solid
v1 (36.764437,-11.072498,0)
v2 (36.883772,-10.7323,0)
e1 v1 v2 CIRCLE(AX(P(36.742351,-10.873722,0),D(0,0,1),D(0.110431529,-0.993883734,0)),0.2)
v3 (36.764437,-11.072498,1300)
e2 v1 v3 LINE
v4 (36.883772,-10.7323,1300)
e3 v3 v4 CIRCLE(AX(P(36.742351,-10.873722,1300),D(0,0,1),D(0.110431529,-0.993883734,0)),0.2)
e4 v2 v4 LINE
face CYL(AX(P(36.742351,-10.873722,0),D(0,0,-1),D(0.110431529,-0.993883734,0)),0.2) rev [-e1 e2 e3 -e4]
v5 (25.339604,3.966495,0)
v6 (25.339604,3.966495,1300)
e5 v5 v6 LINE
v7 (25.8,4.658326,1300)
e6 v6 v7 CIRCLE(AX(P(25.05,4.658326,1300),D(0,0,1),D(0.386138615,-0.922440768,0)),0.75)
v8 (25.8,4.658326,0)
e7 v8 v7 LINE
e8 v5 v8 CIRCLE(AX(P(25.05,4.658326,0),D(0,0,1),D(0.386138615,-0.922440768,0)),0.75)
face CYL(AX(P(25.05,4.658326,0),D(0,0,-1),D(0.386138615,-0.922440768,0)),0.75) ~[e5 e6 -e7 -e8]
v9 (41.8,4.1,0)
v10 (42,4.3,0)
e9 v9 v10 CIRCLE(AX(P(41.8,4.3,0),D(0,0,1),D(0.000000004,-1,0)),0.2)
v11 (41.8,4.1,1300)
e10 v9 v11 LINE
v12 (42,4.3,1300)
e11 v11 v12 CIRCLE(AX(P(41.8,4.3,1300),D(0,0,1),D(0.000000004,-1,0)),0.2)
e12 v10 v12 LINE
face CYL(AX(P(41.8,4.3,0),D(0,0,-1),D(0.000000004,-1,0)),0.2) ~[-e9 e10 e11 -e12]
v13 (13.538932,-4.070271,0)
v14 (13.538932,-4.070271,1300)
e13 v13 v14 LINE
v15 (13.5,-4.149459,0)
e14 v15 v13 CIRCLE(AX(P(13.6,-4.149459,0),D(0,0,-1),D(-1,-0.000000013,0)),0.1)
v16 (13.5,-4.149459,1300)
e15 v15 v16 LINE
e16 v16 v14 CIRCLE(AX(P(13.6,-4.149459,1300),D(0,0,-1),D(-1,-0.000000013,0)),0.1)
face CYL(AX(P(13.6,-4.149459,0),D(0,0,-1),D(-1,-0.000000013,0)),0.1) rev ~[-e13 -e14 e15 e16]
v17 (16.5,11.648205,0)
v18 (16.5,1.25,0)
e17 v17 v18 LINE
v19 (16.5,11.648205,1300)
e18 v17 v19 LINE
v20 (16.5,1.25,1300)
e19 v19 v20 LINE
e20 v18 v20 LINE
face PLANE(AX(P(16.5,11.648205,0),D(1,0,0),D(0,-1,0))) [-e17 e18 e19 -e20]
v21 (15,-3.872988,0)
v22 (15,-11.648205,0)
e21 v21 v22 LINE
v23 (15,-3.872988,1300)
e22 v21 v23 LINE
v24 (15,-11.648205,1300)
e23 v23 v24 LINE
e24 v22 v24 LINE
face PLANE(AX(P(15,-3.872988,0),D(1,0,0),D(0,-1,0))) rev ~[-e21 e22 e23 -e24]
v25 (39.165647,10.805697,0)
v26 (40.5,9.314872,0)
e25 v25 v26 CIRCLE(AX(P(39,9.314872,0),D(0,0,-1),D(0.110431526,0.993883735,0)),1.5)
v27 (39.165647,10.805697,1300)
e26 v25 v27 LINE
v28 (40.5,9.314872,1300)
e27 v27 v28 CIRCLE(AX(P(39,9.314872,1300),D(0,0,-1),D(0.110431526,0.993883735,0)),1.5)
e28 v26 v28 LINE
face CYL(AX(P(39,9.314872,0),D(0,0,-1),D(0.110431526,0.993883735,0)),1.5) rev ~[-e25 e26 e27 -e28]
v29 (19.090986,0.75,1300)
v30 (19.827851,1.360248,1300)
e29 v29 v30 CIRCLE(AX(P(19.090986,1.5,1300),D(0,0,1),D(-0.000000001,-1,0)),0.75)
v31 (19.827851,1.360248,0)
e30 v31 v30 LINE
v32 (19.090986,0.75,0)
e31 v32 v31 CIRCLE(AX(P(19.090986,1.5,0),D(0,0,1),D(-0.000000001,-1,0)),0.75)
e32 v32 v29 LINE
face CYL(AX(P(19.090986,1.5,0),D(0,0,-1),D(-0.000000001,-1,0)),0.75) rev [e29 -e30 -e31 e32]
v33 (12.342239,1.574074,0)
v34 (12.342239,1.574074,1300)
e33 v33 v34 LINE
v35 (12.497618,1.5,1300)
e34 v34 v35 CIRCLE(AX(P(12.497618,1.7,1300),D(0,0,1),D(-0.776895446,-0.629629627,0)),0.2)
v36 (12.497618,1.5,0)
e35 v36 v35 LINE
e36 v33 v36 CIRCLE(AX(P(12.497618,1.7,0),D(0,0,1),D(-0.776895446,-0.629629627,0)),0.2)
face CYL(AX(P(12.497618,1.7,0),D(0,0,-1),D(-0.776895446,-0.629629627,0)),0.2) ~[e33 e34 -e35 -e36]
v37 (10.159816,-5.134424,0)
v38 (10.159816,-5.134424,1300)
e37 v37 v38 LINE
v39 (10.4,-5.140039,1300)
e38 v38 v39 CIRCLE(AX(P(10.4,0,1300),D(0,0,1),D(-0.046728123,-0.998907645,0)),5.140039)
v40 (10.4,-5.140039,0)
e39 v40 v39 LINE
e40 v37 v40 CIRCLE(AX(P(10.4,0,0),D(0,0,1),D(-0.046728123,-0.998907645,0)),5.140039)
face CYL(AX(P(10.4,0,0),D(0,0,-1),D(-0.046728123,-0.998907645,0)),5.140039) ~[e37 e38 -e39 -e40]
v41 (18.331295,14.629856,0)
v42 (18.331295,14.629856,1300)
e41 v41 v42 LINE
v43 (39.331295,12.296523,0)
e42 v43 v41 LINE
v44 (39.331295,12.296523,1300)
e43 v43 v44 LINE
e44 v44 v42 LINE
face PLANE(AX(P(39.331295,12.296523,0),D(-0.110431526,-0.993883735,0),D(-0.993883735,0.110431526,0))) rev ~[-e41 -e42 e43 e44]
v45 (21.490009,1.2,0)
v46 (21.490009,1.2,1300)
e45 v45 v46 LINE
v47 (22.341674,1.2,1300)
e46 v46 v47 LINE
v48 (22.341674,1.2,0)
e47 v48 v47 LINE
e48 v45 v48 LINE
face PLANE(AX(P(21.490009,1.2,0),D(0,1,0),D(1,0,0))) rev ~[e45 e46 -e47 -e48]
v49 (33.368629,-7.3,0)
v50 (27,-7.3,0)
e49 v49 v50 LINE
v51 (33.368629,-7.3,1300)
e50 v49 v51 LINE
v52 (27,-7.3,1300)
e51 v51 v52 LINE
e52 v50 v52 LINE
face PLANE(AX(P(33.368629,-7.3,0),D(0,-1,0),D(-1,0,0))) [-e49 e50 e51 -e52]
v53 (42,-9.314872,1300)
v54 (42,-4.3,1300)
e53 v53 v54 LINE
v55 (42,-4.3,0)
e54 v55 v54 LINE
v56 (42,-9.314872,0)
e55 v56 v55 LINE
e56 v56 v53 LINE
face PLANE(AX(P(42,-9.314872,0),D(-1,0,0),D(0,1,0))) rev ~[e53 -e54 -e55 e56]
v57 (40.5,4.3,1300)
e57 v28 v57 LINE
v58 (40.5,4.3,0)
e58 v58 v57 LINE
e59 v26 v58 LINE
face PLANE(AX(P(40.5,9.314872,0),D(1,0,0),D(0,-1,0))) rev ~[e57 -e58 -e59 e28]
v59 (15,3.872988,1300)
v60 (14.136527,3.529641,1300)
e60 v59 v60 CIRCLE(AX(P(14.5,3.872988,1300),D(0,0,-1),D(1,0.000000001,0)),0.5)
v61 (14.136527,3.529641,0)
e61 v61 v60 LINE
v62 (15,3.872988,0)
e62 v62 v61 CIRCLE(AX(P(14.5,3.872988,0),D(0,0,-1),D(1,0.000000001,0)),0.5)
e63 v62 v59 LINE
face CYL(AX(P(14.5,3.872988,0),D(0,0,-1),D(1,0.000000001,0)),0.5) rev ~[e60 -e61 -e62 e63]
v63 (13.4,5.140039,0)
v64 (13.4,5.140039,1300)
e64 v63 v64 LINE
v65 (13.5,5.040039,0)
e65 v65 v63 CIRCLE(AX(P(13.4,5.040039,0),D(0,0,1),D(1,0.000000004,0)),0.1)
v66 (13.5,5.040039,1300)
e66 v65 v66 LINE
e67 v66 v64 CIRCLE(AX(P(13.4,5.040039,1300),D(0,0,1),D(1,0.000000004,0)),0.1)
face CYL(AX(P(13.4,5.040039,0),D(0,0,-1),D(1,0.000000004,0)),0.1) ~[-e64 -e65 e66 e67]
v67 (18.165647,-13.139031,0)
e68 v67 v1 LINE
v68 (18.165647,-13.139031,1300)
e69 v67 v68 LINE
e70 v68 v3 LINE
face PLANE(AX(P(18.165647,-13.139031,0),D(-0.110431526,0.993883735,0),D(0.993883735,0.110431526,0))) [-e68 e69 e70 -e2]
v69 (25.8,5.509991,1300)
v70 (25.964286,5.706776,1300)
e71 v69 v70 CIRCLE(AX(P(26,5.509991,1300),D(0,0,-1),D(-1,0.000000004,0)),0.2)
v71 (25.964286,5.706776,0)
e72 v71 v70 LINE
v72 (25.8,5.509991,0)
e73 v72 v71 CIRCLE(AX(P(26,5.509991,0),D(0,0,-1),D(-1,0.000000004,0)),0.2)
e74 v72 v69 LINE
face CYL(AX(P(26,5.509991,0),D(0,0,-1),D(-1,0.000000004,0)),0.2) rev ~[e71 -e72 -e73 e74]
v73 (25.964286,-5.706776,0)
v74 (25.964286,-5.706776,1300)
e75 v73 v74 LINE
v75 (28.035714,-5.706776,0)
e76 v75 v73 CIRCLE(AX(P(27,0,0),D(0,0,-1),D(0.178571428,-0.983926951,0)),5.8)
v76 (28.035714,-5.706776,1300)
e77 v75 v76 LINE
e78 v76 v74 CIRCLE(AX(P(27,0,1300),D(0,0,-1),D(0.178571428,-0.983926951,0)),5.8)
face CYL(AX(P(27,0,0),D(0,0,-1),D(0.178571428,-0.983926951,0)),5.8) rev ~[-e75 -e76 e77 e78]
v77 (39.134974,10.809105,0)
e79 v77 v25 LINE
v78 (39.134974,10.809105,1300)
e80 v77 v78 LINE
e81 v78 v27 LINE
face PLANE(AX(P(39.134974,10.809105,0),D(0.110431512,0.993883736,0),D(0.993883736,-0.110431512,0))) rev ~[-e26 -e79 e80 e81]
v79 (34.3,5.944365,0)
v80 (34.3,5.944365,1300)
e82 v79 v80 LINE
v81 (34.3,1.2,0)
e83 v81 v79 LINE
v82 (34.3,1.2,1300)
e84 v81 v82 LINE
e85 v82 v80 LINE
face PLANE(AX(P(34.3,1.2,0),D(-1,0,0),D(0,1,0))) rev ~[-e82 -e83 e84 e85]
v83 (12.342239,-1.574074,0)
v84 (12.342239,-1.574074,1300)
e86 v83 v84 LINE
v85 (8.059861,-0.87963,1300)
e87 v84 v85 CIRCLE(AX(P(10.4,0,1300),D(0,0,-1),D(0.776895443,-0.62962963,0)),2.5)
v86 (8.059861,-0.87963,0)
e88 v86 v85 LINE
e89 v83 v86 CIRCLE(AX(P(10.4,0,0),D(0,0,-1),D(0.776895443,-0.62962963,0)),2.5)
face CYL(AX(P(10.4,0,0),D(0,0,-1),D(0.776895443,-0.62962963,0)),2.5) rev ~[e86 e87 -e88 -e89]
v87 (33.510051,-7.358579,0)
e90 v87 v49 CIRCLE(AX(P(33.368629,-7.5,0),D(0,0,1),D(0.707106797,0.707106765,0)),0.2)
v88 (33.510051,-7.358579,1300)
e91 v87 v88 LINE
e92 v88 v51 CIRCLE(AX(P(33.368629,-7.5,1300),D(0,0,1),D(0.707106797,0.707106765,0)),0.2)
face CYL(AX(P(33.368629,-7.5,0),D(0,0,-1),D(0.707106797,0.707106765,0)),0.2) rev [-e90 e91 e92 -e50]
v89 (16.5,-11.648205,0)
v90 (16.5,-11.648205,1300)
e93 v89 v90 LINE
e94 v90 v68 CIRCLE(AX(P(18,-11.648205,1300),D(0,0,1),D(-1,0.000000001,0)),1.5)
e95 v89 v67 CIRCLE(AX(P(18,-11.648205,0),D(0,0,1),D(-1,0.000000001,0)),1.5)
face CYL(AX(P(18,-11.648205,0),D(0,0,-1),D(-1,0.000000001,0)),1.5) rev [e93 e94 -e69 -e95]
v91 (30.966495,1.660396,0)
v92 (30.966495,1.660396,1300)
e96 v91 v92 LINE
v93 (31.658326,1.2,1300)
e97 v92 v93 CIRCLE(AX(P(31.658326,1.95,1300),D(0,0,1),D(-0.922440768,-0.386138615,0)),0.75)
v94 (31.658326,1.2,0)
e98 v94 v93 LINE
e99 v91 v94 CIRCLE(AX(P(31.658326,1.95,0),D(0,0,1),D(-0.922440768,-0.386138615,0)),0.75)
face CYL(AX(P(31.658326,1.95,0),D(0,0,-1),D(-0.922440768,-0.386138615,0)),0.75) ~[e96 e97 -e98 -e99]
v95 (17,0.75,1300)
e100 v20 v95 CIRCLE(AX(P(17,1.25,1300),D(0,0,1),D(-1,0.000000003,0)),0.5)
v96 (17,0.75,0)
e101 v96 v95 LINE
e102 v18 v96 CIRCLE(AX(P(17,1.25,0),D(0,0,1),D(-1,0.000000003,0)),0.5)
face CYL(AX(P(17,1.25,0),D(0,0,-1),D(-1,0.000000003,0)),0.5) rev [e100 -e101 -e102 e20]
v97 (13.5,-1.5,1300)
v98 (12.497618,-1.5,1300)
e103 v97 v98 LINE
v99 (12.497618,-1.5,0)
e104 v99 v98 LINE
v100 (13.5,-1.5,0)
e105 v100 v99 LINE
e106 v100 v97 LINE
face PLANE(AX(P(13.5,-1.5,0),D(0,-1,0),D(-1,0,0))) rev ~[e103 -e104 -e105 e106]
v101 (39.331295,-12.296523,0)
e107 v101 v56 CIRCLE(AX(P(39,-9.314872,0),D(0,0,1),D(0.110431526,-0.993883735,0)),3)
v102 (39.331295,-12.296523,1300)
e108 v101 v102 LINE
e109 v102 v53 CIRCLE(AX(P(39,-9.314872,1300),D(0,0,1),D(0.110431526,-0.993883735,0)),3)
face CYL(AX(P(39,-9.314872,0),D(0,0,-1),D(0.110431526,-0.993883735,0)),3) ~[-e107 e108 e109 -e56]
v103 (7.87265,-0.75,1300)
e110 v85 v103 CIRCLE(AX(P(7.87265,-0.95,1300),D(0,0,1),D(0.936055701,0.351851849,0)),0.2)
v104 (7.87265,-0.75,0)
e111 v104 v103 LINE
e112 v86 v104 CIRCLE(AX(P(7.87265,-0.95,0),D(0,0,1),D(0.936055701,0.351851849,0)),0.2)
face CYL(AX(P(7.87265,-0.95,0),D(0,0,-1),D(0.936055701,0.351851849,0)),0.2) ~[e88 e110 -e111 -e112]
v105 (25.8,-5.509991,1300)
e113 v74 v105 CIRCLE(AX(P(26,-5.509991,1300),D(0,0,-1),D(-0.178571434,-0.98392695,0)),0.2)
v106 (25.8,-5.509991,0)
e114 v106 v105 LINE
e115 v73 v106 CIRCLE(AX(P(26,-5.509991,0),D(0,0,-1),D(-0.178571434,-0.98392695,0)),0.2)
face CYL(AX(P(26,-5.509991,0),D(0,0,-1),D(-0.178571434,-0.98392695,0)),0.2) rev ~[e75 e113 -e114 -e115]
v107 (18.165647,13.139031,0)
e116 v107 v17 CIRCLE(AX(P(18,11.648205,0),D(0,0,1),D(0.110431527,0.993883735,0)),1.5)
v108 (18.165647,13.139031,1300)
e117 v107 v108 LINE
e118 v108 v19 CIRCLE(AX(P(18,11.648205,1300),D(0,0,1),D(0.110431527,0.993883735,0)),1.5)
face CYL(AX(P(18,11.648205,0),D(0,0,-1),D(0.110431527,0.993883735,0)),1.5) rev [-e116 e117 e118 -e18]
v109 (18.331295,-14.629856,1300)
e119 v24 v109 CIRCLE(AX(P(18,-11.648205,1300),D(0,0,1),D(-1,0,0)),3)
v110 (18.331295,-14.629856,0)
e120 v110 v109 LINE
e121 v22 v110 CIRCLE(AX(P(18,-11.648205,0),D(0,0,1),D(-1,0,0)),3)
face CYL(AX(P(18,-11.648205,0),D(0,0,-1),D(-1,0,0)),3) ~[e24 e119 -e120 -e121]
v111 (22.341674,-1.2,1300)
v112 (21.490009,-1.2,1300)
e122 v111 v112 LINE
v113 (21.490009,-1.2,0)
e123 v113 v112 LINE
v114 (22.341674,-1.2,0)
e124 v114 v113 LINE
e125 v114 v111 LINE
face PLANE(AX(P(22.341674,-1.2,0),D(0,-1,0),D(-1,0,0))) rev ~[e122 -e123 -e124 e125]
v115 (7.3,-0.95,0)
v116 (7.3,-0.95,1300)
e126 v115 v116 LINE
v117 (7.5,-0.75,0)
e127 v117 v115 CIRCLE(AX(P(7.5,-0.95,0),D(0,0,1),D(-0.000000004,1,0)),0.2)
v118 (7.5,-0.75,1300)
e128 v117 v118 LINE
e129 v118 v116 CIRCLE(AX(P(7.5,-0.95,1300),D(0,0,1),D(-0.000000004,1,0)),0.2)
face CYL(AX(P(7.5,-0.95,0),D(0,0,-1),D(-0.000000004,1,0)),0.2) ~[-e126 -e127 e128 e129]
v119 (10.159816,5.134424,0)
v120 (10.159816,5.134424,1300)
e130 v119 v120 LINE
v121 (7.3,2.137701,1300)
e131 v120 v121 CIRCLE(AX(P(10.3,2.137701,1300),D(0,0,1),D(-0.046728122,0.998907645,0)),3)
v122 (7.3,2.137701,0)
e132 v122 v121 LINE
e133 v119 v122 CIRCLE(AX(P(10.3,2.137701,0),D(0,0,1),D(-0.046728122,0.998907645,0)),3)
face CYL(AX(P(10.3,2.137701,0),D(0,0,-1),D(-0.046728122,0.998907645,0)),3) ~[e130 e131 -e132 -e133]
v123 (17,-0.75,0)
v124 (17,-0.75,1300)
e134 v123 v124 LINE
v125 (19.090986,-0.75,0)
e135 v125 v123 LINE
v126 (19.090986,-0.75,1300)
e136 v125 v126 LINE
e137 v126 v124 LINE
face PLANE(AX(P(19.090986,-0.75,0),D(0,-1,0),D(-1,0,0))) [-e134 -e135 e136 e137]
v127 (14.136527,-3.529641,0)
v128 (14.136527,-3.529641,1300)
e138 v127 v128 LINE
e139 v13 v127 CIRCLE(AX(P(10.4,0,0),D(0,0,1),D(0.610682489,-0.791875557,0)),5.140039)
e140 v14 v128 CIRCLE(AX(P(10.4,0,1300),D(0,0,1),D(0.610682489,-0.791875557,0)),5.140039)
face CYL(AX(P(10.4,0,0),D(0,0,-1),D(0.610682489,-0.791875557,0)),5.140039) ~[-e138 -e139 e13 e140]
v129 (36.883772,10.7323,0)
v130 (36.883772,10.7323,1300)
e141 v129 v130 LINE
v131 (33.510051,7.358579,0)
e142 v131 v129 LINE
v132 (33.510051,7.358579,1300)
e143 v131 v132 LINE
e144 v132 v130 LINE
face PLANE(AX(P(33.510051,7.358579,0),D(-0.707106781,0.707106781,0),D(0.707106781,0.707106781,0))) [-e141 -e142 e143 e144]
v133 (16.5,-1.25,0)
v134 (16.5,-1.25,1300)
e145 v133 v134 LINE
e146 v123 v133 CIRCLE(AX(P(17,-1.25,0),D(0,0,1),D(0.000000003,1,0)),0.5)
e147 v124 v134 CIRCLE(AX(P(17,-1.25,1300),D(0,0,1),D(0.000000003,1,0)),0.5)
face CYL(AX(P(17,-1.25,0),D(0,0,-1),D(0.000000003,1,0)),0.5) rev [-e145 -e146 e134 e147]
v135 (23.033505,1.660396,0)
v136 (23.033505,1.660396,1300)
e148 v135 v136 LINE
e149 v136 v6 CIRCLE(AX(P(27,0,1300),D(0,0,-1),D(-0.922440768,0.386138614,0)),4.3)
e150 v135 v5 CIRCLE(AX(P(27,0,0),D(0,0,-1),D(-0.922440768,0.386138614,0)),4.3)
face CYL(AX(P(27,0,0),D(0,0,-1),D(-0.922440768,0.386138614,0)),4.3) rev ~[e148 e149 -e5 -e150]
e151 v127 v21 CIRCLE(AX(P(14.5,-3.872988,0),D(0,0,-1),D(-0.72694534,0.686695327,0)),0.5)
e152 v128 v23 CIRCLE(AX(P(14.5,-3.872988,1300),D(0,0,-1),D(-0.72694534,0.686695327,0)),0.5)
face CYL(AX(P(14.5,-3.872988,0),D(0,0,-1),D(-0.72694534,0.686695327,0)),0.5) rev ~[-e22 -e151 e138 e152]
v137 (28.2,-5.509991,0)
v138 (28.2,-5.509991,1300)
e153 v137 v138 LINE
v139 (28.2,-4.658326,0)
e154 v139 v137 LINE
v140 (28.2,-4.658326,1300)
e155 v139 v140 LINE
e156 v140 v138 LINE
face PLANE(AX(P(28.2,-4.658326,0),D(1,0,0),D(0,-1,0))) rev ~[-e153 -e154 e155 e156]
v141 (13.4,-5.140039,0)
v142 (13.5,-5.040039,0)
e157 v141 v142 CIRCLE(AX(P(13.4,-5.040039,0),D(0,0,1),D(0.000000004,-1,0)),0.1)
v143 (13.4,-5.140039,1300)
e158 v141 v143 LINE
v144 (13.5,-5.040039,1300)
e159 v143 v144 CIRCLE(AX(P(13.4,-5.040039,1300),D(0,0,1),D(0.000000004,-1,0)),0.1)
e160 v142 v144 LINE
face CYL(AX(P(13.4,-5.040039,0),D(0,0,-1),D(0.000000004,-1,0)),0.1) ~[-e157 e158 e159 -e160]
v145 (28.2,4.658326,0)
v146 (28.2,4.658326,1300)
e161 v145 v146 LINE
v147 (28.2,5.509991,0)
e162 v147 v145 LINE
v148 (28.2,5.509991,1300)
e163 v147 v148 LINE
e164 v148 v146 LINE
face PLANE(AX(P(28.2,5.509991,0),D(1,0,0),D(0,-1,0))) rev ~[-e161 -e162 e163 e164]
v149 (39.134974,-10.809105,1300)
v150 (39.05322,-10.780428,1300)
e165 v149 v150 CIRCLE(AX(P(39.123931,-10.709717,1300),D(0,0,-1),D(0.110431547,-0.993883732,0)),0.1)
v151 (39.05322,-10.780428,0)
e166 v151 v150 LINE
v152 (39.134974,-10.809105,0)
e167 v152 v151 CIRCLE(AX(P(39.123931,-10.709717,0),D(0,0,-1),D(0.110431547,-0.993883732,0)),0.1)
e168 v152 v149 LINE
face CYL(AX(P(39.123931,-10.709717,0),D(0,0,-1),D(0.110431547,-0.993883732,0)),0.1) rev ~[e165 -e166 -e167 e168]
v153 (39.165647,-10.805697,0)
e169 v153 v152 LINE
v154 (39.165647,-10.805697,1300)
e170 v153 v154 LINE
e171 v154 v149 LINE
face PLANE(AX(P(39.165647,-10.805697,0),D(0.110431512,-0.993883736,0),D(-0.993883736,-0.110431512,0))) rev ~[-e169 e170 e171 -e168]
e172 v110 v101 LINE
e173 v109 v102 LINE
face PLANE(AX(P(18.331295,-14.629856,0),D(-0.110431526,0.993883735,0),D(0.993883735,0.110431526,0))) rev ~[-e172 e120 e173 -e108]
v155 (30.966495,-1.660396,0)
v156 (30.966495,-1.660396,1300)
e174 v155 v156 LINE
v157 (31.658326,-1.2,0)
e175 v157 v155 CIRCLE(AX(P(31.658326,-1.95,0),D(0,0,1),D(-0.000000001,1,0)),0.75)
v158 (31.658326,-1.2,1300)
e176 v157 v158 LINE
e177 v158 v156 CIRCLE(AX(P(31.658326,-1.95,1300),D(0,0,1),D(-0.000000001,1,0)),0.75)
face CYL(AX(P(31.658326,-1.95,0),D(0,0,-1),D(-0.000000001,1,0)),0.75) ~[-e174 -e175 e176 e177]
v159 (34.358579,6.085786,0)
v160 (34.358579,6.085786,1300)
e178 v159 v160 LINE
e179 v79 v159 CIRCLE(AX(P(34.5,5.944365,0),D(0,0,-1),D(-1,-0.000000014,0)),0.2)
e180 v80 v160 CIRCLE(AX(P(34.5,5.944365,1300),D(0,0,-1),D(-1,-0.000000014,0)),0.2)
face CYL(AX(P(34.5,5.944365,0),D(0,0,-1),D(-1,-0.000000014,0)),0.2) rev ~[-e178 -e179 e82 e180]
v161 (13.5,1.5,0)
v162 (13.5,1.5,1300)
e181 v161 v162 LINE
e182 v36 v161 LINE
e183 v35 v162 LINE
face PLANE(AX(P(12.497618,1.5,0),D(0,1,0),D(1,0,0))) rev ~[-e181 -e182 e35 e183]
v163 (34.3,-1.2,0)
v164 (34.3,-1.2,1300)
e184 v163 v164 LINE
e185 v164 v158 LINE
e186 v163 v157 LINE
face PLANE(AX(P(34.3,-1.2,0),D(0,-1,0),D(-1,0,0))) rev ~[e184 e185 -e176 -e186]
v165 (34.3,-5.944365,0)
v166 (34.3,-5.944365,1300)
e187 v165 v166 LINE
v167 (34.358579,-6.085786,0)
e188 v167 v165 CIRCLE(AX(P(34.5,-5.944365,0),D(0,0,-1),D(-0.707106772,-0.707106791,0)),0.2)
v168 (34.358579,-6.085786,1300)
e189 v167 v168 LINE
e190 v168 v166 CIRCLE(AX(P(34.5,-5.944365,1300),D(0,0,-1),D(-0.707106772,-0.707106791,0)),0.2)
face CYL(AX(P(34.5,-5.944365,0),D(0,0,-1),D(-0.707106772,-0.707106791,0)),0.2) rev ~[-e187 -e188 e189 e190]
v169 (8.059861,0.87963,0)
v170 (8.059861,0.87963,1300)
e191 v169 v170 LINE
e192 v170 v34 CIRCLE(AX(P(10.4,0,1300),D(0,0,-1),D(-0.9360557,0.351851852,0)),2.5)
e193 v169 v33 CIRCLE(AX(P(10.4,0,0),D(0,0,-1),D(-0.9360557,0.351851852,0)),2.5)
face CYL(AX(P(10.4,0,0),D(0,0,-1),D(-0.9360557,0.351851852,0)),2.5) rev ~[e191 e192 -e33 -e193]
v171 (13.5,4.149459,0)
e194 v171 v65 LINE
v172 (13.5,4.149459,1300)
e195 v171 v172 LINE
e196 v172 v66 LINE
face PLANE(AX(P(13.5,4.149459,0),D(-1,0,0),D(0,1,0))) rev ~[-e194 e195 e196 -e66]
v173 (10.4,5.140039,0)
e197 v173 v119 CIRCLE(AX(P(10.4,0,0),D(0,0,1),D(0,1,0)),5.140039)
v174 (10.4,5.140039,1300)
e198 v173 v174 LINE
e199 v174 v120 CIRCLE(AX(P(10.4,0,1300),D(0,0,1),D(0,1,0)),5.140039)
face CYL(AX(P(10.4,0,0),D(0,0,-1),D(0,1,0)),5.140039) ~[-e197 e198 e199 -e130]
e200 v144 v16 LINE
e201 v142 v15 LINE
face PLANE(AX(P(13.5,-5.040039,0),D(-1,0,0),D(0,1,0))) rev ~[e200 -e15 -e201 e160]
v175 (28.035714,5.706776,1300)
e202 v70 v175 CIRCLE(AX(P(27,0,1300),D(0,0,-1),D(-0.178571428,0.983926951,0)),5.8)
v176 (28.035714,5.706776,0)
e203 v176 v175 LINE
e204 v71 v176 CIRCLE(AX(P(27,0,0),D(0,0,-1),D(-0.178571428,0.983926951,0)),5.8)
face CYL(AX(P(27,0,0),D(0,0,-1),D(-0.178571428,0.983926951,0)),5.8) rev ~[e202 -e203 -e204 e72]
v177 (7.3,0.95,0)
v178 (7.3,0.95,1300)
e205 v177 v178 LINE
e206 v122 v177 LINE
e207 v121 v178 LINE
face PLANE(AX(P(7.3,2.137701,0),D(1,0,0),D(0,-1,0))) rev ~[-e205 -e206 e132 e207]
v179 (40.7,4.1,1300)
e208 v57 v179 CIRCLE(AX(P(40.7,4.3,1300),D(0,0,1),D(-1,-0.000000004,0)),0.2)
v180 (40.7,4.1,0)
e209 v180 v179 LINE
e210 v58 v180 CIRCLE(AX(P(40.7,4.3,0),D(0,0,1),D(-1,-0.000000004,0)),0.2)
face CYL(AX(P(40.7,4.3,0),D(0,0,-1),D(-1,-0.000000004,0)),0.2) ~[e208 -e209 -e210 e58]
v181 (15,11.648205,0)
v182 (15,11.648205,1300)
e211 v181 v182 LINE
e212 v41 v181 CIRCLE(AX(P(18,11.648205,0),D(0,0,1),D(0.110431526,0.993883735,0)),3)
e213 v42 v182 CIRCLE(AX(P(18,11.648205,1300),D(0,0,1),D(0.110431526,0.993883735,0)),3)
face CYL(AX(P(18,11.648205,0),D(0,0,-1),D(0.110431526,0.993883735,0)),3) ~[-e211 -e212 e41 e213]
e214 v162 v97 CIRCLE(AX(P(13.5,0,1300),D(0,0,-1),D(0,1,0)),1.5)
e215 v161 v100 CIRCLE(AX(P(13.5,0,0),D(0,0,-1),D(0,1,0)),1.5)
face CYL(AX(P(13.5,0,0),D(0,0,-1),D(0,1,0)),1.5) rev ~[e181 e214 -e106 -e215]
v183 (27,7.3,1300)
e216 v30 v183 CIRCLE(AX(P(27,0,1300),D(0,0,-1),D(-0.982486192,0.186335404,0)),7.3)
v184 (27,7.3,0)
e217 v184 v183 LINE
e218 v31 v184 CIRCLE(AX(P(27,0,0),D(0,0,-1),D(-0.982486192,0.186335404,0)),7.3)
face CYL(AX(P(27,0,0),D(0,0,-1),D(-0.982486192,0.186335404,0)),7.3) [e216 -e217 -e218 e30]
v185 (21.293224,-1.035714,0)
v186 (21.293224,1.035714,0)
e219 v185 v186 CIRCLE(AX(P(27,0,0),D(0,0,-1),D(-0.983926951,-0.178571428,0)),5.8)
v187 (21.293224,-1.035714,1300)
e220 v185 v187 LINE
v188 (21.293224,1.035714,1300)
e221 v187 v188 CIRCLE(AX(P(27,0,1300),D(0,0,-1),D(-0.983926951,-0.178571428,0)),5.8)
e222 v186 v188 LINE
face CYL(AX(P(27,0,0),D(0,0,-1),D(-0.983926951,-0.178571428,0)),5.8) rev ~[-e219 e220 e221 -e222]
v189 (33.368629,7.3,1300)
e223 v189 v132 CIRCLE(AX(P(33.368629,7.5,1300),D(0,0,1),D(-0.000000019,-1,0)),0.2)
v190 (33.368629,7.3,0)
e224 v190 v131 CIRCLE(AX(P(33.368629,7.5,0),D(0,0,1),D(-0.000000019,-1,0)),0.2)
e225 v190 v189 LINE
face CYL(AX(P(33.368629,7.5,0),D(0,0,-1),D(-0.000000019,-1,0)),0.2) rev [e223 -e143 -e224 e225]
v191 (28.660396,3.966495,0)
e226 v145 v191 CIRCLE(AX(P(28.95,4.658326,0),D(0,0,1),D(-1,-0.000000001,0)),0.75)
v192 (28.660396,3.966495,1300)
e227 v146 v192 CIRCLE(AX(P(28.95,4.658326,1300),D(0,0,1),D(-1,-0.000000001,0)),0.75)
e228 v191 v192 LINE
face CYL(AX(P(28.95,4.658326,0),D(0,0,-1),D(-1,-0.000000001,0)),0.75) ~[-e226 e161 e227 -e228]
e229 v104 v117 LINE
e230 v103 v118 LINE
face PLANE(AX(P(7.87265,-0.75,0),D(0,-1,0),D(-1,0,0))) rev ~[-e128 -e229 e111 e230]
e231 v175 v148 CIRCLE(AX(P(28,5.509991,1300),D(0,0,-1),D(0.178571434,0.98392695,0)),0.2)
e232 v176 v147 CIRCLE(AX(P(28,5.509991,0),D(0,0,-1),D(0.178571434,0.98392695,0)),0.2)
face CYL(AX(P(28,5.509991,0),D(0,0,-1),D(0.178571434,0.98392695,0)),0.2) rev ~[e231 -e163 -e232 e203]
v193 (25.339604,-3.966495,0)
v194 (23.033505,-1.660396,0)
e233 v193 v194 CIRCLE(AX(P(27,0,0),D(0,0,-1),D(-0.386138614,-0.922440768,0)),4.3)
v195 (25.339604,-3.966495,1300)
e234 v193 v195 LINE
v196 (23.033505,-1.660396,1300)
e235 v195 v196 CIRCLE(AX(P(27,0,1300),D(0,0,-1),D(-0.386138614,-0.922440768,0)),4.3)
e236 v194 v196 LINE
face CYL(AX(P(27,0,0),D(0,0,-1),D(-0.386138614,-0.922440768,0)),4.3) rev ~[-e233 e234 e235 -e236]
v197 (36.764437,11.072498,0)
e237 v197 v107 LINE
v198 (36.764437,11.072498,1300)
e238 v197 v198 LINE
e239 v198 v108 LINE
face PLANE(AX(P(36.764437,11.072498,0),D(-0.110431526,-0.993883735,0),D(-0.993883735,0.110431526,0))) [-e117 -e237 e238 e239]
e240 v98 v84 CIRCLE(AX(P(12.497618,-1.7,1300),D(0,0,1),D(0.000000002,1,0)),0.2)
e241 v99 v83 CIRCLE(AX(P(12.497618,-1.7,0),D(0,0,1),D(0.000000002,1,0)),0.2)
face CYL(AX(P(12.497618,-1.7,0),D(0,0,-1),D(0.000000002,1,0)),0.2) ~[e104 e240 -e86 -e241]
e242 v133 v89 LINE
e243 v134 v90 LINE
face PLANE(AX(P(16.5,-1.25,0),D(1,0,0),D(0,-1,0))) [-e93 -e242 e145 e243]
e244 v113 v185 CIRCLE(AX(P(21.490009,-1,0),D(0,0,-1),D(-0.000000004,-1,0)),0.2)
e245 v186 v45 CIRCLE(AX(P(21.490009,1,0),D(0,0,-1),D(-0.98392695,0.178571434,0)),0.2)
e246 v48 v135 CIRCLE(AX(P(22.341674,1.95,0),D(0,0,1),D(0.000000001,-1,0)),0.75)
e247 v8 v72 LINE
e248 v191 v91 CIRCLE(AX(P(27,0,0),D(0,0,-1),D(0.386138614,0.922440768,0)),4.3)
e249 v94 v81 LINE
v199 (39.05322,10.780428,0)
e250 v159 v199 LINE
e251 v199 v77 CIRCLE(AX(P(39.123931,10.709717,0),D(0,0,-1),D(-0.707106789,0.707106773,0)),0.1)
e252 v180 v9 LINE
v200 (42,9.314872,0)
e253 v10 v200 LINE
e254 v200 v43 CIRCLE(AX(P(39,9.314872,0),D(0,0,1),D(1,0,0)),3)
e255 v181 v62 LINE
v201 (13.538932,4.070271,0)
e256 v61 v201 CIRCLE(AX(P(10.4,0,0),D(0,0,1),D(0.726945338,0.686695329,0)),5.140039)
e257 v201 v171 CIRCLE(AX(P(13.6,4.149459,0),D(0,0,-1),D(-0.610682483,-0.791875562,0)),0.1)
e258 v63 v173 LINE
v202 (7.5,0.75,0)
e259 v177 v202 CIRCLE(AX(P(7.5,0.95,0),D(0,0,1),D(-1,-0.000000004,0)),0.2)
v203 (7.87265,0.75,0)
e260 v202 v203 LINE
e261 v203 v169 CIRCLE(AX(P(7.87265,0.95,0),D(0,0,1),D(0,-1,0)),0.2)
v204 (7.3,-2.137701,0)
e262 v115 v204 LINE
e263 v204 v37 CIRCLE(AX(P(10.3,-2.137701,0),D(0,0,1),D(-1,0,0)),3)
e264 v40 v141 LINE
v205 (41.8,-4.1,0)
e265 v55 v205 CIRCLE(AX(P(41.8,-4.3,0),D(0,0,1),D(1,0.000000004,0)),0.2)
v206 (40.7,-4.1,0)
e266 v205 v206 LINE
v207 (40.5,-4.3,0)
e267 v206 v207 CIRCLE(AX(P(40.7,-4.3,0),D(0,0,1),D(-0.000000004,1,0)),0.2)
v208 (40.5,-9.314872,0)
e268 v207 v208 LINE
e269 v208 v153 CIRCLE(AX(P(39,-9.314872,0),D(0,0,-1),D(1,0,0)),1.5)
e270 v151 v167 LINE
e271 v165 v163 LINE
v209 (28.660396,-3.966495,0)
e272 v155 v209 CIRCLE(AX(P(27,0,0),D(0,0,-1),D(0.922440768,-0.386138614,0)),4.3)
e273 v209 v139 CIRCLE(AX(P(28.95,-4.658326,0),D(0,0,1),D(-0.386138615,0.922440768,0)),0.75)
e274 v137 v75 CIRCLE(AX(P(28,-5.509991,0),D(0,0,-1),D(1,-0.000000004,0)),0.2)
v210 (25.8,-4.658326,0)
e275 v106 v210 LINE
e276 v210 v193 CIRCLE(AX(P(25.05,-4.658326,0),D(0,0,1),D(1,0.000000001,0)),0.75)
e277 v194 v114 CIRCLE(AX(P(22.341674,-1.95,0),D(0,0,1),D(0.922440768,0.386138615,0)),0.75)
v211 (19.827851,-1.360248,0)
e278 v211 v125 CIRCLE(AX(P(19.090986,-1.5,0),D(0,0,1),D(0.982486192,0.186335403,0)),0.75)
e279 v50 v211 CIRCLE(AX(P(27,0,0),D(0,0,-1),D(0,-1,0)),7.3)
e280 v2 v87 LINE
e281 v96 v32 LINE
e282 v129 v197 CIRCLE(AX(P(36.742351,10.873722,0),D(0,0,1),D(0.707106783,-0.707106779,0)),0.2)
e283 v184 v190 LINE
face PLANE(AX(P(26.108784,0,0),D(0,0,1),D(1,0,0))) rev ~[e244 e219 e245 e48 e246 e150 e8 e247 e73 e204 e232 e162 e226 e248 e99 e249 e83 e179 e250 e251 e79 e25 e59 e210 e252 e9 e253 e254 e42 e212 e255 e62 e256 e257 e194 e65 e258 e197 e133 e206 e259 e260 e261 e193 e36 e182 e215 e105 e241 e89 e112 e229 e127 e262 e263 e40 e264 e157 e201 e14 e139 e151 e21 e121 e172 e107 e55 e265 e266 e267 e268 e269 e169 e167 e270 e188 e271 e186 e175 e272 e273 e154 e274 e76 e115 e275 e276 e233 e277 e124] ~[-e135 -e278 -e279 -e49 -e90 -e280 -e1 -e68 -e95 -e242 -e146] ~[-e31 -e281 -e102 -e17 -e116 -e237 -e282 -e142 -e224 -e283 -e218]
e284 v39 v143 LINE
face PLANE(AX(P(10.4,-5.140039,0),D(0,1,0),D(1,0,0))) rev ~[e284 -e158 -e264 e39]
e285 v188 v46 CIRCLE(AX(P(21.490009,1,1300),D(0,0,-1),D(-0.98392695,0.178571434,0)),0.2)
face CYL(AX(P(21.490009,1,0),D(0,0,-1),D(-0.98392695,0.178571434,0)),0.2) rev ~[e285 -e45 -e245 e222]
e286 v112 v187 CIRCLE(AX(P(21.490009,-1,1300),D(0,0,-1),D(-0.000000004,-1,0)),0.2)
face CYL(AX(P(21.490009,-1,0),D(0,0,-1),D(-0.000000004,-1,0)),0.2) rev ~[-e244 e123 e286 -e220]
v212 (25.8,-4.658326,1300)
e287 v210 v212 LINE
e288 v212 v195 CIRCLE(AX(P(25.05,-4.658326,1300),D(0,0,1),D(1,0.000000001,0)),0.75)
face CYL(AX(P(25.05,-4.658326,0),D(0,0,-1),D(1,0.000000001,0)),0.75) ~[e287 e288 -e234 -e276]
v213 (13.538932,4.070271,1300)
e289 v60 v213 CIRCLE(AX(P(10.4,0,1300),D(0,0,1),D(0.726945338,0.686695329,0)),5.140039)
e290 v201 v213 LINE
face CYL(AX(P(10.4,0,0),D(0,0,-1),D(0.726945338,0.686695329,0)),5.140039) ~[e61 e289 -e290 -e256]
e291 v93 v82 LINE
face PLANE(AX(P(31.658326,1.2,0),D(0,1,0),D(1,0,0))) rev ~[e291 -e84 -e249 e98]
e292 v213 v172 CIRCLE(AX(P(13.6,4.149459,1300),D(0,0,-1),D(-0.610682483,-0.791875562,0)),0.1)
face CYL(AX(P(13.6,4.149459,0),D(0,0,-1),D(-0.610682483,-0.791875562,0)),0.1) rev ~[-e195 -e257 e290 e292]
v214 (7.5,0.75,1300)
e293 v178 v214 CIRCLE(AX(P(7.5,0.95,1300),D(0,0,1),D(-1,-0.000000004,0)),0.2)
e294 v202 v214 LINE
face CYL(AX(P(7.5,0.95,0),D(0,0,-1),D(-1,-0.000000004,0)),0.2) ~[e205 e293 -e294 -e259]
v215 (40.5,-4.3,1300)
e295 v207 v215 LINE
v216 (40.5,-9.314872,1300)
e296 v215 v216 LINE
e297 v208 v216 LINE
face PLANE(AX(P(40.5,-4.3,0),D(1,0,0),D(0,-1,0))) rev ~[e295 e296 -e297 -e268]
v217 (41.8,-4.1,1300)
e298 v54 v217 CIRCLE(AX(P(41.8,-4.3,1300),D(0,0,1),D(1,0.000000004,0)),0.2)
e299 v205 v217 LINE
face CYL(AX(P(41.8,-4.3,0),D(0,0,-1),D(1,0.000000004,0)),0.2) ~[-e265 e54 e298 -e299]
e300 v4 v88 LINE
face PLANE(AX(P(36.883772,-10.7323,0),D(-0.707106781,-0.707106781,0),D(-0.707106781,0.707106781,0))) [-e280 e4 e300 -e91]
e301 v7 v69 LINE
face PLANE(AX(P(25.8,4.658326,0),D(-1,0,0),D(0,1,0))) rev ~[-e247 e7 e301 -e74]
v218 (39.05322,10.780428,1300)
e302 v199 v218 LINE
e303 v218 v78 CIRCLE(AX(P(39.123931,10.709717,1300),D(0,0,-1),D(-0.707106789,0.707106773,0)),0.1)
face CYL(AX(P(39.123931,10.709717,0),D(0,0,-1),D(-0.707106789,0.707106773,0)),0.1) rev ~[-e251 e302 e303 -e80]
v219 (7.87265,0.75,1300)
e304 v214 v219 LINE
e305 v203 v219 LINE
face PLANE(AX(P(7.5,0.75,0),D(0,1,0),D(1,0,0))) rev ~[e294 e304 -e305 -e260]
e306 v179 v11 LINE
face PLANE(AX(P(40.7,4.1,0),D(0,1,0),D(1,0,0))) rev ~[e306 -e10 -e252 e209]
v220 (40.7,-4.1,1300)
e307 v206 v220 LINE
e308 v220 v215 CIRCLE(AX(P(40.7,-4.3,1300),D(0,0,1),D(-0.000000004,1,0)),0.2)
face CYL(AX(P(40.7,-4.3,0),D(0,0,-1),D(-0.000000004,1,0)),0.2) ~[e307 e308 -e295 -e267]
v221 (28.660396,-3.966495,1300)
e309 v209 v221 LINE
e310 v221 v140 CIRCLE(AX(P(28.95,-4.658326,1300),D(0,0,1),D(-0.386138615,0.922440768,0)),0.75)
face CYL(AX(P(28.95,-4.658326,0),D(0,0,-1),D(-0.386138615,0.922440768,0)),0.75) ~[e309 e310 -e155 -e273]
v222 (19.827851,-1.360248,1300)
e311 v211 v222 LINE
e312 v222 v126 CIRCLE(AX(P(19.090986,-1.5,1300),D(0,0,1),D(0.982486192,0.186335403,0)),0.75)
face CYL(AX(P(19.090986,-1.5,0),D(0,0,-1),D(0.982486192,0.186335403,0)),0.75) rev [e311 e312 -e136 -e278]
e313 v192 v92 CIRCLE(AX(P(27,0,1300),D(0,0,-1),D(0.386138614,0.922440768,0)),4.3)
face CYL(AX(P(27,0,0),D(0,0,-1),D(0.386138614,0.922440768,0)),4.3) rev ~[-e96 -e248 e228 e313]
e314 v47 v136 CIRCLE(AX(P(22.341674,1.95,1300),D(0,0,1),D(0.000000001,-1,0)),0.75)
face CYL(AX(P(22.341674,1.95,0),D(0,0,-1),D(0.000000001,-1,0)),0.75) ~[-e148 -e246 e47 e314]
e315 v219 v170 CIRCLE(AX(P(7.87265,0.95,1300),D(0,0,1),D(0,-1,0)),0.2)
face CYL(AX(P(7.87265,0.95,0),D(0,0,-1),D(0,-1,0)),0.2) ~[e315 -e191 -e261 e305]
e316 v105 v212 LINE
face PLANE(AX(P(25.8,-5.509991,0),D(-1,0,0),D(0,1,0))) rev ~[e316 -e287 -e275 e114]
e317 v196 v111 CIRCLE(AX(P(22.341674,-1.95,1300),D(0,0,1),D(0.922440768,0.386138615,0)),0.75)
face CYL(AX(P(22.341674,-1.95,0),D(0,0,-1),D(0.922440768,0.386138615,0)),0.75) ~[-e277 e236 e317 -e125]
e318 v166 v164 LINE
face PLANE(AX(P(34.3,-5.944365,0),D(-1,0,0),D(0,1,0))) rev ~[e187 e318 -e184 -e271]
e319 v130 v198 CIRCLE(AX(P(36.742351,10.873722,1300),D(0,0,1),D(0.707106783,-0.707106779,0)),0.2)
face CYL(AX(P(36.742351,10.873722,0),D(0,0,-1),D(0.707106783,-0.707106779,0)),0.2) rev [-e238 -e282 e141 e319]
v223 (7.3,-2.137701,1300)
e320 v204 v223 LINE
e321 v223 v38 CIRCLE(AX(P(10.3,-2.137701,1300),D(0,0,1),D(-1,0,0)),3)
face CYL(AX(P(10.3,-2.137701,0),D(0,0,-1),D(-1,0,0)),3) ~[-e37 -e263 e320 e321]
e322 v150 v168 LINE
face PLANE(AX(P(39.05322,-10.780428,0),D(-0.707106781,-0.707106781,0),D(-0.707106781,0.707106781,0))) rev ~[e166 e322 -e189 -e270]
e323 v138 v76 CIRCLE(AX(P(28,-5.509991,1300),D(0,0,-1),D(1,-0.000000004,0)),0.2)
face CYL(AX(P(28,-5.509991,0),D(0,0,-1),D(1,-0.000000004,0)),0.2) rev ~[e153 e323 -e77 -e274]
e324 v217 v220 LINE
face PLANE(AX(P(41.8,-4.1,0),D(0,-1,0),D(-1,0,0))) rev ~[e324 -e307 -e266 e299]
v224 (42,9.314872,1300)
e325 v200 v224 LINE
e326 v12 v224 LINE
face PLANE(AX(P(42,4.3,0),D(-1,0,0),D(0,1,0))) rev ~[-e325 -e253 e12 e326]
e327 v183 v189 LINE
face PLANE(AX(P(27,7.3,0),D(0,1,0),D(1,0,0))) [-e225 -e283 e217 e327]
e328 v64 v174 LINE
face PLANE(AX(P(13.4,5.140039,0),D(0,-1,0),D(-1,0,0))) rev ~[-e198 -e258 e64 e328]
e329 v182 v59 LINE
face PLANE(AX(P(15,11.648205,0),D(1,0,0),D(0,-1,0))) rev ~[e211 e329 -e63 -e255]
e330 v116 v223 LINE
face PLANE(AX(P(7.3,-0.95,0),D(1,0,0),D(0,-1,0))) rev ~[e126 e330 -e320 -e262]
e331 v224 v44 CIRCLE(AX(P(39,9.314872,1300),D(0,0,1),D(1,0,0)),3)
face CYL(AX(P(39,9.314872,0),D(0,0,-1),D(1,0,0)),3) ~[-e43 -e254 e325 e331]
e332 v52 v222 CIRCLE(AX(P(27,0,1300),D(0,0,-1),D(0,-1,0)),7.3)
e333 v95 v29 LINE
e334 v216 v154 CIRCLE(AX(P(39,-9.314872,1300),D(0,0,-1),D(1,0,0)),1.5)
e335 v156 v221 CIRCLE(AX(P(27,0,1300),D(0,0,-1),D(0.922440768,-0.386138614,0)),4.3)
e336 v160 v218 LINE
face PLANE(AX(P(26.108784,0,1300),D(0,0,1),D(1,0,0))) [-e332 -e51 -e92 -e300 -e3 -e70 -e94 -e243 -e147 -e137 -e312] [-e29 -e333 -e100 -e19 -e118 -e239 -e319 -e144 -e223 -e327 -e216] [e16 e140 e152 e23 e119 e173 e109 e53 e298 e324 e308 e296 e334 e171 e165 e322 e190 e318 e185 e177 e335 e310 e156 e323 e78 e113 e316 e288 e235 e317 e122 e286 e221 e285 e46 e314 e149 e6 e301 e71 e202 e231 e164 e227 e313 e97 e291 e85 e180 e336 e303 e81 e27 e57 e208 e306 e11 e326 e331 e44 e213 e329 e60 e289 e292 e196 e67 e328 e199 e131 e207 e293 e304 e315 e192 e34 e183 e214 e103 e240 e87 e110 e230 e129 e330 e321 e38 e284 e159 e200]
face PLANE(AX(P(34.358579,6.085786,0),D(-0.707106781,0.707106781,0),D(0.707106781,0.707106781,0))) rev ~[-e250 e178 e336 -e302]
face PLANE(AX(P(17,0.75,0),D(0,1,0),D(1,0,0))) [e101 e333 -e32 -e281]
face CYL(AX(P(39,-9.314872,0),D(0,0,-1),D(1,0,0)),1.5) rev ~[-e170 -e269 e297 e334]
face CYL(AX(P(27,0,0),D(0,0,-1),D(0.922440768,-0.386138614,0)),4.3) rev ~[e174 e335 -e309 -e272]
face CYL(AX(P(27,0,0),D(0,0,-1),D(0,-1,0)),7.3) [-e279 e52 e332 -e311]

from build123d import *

# Parameters (mm, degrees)
EXTRUDE1_DEPTH = 1300


with BuildPart() as part:
    # Sketch1 → Extrude1 (new body)
    with BuildSketch(Plane.XY):
        with BuildLine():
            Line((21.490009074, 1.2), (22.34167412, 1.2))
            ThreePointArc((22.34167412, 1.2), (22.757184066, 1.325619119), (23.033504697, 1.66039604))
            ThreePointArc((23.033504697, 1.66039604), (23.959440841, 3.040559159), (25.33960396, 3.966495303))
            ThreePointArc((25.33960396, 3.966495303), (25.674380881, 4.242815934), (25.8, 4.65832588))
            Line((25.8, 4.65832588), (25.8, 5.509990926))
            ThreePointArc((25.8, 5.509990926), (25.846470105, 5.638164914), (25.964285714, 5.706776316))
            ThreePointArc((25.964285714, 5.706776316), (27, 5.8), (28.035714286, 5.706776316))
            ThreePointArc((28.035714286, 5.706776316), (28.153529895, 5.638164914), (28.2, 5.509990926))
            Line((28.2, 5.509990926), (28.2, 4.65832588))
            ThreePointArc((28.2, 4.65832588), (28.325619119, 4.242815934), (28.66039604, 3.966495303))
            ThreePointArc((28.66039604, 3.966495303), (30.040559159, 3.040559159), (30.966495303, 1.66039604))
            ThreePointArc((30.966495303, 1.66039604), (31.242815934, 1.325619119), (31.65832588, 1.2))
            Line((31.65832588, 1.2), (34.3, 1.2))
            Line((34.3, 1.2), (34.3, 5.944365081))
            ThreePointArc((34.3, 5.944365081), (34.315224093, 6.020901768), (34.358578644, 6.085786438))
            Line((34.358578644, 6.085786438), (39.053219906, 10.7804277))
            ThreePointArc((39.053219906, 10.7804277), (39.09082989, 10.804079854), (39.134973737, 10.809105395))
            Line((39.134973737, 10.809105395), (39.165647289, 10.805697223))
            ThreePointArc((39.165647289, 10.805697223), (40.117692027, 10.315253814), (40.5, 9.314871621))
            Line((40.5, 9.314871621), (40.5, 4.3))
            ThreePointArc((40.5, 4.3), (40.558578644, 4.158578644), (40.7, 4.1))
            Line((40.7, 4.1), (41.8, 4.1))
            ThreePointArc((41.8, 4.1), (41.941421356, 4.158578644), (42, 4.3))
            Line((42, 4.3), (42, 9.314871621))
            ThreePointArc((42, 9.314871621), (41.235384054, 11.315636008), (39.331294578, 12.296522825))
            Line((39.331294578, 12.296522825), (18.331294578, 14.629856158))
            ThreePointArc((18.331294578, 14.629856158), (15.999235613, 13.883589008), (15, 11.648204954))
            Line((15, 11.648204954), (15, 3.87298837))
            ThreePointArc((15, 3.87298837), (14.684748025, 3.408372219), (14.13652733, 3.529640706))
            ThreePointArc((14.13652733, 3.529640706), (13.848340865, 3.811685359), (13.538931751, 4.070271178))
            ThreePointArc((13.538931751, 4.070271178), (13.510259193, 4.105338584), (13.5, 4.149458734))
            Line((13.5, 4.149458734), (13.5, 5.04003891))
            ThreePointArc((13.5, 5.04003891), (13.470710678, 5.110749588), (13.4, 5.14003891))
            Line((13.4, 5.14003891), (10.4, 5.14003891))
            ThreePointArc((10.4, 5.14003891), (10.279875007, 5.138635031), (10.159815633, 5.134424161))
            ThreePointArc((10.159815633, 5.134424161), (8.129682846, 4.208865984), (7.3, 2.137701227))
            Line((7.3, 2.137701227), (7.3, 0.95))
            ThreePointArc((7.3, 0.95), (7.358578644, 0.808578644), (7.5, 0.75))
            Line((7.5, 0.75), (7.872649609, 0.75))
            ThreePointArc((7.872649609, 0.75), (7.986504617, 0.785570571), (8.059860749, 0.87962963))
            ThreePointArc((8.059860749, 0.87962963), (9.999819413, 2.467763258), (12.342238608, 1.574074074))
            ThreePointArc((12.342238608, 1.574074074), (12.4115514, 1.519465813), (12.497617696, 1.5))
            Line((12.497617696, 1.5), (13.5, 1.5))
            ThreePointArc((13.5, 1.5), (15, 0), (13.5, -1.5))
            Line((13.5, -1.5), (12.497617696, -1.5))
            ThreePointArc((12.497617696, -1.5), (12.4115514, -1.519465813), (12.342238608, -1.574074074))
            ThreePointArc((12.342238608, -1.574074074), (9.999819413, -2.467763258), (8.059860749, -0.87962963))
            ThreePointArc((8.059860749, -0.87962963), (7.986504617, -0.785570571), (7.872649609, -0.75))
            Line((7.872649609, -0.75), (7.5, -0.75))
            ThreePointArc((7.5, -0.75), (7.358578644, -0.808578644), (7.3, -0.95))
            Line((7.3, -0.95), (7.3, -2.137701227))
            ThreePointArc((7.3, -2.137701227), (8.129682846, -4.208865984), (10.159815633, -5.134424161))
            ThreePointArc((10.159815633, -5.134424161), (10.279875007, -5.138635031), (10.4, -5.14003891))
            Line((10.4, -5.14003891), (13.4, -5.14003891))
            ThreePointArc((13.4, -5.14003891), (13.470710678, -5.110749588), (13.5, -5.04003891))
            Line((13.5, -5.04003891), (13.5, -4.149458734))
            ThreePointArc((13.5, -4.149458734), (13.510259193, -4.105338584), (13.538931751, -4.070271178))
            ThreePointArc((13.538931751, -4.070271178), (13.848340865, -3.811685359), (14.13652733, -3.529640706))
            ThreePointArc((14.13652733, -3.529640706), (14.684748025, -3.408372219), (15, -3.87298837))
            Line((15, -3.87298837), (15, -11.648204954))
            ThreePointArc((15, -11.648204954), (15.999235613, -13.883589008), (18.331294578, -14.629856158))
            Line((18.331294578, -14.629856158), (39.331294578, -12.296522825))
            ThreePointArc((39.331294578, -12.296522825), (41.235384054, -11.315636008), (42, -9.314871621))
            Line((42, -9.314871621), (42, -4.3))
            ThreePointArc((42, -4.3), (41.941421356, -4.158578644), (41.8, -4.1))
            Line((41.8, -4.1), (40.7, -4.1))
            ThreePointArc((40.7, -4.1), (40.558578644, -4.158578644), (40.5, -4.3))
            Line((40.5, -4.3), (40.5, -9.314871621))
            ThreePointArc((40.5, -9.314871621), (40.117692027, -10.315253814), (39.165647289, -10.805697223))
            Line((39.165647289, -10.805697223), (39.134973737, -10.809105395))
            ThreePointArc((39.134973737, -10.809105395), (39.09082989, -10.804079854), (39.053219906, -10.7804277))
            Line((39.053219906, -10.7804277), (34.358578644, -6.085786438))
            ThreePointArc((34.358578644, -6.085786438), (34.315224093, -6.020901768), (34.3, -5.944365081))
            Line((34.3, -5.944365081), (34.3, -1.2))
            Line((34.3, -1.2), (31.65832588, -1.2))
            ThreePointArc((31.65832588, -1.2), (31.242815934, -1.325619119), (30.966495303, -1.66039604))
            ThreePointArc((30.966495303, -1.66039604), (30.040559159, -3.040559159), (28.66039604, -3.966495303))
            ThreePointArc((28.66039604, -3.966495303), (28.325619119, -4.242815934), (28.2, -4.65832588))
            Line((28.2, -4.65832588), (28.2, -5.509990926))
            ThreePointArc((28.2, -5.509990926), (28.153529895, -5.638164914), (28.035714286, -5.706776316))
            ThreePointArc((28.035714286, -5.706776316), (27, -5.8), (25.964285714, -5.706776316))
            ThreePointArc((25.964285714, -5.706776316), (25.846470105, -5.638164914), (25.8, -5.509990926))
            Line((25.8, -5.509990926), (25.8, -4.65832588))
            ThreePointArc((25.8, -4.65832588), (25.674380881, -4.242815934), (25.33960396, -3.966495303))
            ThreePointArc((25.33960396, -3.966495303), (23.959440841, -3.040559159), (23.033504697, -1.66039604))
            ThreePointArc((23.033504697, -1.66039604), (22.757184066, -1.325619119), (22.34167412, -1.2))
            Line((22.34167412, -1.2), (21.490009074, -1.2))
            ThreePointArc((21.490009074, -1.2), (21.361835086, -1.153529895), (21.293223684, -1.035714286))
            ThreePointArc((21.293223684, -1.035714286), (21.2, 0), (21.293223684, 1.035714286))
            ThreePointArc((21.293223684, 1.035714286), (21.361835086, 1.153529895), (21.490009074, 1.2))
        make_face()
        with BuildLine():
            Line((16.5, -1.25), (16.5, -11.648204954))
            ThreePointArc((16.5, -11.648204954), (16.999617806, -12.765896981), (18.165647289, -13.139030556))
            Line((18.165647289, -13.139030556), (36.764437067, -11.072498358))
            ThreePointArc((36.764437067, -11.072498358), (36.931076425, -10.939923), (36.883772118, -10.732300255))
            Line((36.883772118, -10.732300255), (33.510050506, -7.358578644))
            ThreePointArc((33.510050506, -7.358578644), (33.445165837, -7.315224093), (33.36862915, -7.3))
            Line((33.36862915, -7.3), (27, -7.3))
            ThreePointArc((27, -7.3), (22.343811305, -5.622268833), (19.827850799, -1.360248447))
            ThreePointArc((19.827850799, -1.360248447), (19.569361706, -0.92236964), (19.090986155, -0.75))
            Line((19.090986155, -0.75), (17, -0.75))
            ThreePointArc((17, -0.75), (16.646446609, -0.896446609), (16.5, -1.25))
        make_face(mode=Mode.SUBTRACT)
        with BuildLine():
            Line((17, 0.75), (19.090986155, 0.75))
            ThreePointArc((19.090986155, 0.75), (19.569361706, 0.92236964), (19.827850799, 1.360248447))
            ThreePointArc((19.827850799, 1.360248447), (22.343811305, 5.622268833), (27, 7.3))
            Line((27, 7.3), (33.36862915, 7.3))
            ThreePointArc((33.36862915, 7.3), (33.445165837, 7.315224093), (33.510050506, 7.358578644))
            Line((33.510050506, 7.358578644), (36.883772118, 10.732300255))
            ThreePointArc((36.883772118, 10.732300255), (36.931076425, 10.939923), (36.764437067, 11.072498358))
            Line((36.764437067, 11.072498358), (18.165647289, 13.139030556))
            ThreePointArc((18.165647289, 13.139030556), (16.999617806, 12.765896981), (16.5, 11.648204954))
            Line((16.5, 11.648204954), (16.5, 1.25))
            ThreePointArc((16.5, 1.25), (16.646446609, 0.896446609), (17, 0.75))
        make_face(mode=Mode.SUBTRACT)
    extrude(amount=EXTRUDE1_DEPTH)


solid = part.part
